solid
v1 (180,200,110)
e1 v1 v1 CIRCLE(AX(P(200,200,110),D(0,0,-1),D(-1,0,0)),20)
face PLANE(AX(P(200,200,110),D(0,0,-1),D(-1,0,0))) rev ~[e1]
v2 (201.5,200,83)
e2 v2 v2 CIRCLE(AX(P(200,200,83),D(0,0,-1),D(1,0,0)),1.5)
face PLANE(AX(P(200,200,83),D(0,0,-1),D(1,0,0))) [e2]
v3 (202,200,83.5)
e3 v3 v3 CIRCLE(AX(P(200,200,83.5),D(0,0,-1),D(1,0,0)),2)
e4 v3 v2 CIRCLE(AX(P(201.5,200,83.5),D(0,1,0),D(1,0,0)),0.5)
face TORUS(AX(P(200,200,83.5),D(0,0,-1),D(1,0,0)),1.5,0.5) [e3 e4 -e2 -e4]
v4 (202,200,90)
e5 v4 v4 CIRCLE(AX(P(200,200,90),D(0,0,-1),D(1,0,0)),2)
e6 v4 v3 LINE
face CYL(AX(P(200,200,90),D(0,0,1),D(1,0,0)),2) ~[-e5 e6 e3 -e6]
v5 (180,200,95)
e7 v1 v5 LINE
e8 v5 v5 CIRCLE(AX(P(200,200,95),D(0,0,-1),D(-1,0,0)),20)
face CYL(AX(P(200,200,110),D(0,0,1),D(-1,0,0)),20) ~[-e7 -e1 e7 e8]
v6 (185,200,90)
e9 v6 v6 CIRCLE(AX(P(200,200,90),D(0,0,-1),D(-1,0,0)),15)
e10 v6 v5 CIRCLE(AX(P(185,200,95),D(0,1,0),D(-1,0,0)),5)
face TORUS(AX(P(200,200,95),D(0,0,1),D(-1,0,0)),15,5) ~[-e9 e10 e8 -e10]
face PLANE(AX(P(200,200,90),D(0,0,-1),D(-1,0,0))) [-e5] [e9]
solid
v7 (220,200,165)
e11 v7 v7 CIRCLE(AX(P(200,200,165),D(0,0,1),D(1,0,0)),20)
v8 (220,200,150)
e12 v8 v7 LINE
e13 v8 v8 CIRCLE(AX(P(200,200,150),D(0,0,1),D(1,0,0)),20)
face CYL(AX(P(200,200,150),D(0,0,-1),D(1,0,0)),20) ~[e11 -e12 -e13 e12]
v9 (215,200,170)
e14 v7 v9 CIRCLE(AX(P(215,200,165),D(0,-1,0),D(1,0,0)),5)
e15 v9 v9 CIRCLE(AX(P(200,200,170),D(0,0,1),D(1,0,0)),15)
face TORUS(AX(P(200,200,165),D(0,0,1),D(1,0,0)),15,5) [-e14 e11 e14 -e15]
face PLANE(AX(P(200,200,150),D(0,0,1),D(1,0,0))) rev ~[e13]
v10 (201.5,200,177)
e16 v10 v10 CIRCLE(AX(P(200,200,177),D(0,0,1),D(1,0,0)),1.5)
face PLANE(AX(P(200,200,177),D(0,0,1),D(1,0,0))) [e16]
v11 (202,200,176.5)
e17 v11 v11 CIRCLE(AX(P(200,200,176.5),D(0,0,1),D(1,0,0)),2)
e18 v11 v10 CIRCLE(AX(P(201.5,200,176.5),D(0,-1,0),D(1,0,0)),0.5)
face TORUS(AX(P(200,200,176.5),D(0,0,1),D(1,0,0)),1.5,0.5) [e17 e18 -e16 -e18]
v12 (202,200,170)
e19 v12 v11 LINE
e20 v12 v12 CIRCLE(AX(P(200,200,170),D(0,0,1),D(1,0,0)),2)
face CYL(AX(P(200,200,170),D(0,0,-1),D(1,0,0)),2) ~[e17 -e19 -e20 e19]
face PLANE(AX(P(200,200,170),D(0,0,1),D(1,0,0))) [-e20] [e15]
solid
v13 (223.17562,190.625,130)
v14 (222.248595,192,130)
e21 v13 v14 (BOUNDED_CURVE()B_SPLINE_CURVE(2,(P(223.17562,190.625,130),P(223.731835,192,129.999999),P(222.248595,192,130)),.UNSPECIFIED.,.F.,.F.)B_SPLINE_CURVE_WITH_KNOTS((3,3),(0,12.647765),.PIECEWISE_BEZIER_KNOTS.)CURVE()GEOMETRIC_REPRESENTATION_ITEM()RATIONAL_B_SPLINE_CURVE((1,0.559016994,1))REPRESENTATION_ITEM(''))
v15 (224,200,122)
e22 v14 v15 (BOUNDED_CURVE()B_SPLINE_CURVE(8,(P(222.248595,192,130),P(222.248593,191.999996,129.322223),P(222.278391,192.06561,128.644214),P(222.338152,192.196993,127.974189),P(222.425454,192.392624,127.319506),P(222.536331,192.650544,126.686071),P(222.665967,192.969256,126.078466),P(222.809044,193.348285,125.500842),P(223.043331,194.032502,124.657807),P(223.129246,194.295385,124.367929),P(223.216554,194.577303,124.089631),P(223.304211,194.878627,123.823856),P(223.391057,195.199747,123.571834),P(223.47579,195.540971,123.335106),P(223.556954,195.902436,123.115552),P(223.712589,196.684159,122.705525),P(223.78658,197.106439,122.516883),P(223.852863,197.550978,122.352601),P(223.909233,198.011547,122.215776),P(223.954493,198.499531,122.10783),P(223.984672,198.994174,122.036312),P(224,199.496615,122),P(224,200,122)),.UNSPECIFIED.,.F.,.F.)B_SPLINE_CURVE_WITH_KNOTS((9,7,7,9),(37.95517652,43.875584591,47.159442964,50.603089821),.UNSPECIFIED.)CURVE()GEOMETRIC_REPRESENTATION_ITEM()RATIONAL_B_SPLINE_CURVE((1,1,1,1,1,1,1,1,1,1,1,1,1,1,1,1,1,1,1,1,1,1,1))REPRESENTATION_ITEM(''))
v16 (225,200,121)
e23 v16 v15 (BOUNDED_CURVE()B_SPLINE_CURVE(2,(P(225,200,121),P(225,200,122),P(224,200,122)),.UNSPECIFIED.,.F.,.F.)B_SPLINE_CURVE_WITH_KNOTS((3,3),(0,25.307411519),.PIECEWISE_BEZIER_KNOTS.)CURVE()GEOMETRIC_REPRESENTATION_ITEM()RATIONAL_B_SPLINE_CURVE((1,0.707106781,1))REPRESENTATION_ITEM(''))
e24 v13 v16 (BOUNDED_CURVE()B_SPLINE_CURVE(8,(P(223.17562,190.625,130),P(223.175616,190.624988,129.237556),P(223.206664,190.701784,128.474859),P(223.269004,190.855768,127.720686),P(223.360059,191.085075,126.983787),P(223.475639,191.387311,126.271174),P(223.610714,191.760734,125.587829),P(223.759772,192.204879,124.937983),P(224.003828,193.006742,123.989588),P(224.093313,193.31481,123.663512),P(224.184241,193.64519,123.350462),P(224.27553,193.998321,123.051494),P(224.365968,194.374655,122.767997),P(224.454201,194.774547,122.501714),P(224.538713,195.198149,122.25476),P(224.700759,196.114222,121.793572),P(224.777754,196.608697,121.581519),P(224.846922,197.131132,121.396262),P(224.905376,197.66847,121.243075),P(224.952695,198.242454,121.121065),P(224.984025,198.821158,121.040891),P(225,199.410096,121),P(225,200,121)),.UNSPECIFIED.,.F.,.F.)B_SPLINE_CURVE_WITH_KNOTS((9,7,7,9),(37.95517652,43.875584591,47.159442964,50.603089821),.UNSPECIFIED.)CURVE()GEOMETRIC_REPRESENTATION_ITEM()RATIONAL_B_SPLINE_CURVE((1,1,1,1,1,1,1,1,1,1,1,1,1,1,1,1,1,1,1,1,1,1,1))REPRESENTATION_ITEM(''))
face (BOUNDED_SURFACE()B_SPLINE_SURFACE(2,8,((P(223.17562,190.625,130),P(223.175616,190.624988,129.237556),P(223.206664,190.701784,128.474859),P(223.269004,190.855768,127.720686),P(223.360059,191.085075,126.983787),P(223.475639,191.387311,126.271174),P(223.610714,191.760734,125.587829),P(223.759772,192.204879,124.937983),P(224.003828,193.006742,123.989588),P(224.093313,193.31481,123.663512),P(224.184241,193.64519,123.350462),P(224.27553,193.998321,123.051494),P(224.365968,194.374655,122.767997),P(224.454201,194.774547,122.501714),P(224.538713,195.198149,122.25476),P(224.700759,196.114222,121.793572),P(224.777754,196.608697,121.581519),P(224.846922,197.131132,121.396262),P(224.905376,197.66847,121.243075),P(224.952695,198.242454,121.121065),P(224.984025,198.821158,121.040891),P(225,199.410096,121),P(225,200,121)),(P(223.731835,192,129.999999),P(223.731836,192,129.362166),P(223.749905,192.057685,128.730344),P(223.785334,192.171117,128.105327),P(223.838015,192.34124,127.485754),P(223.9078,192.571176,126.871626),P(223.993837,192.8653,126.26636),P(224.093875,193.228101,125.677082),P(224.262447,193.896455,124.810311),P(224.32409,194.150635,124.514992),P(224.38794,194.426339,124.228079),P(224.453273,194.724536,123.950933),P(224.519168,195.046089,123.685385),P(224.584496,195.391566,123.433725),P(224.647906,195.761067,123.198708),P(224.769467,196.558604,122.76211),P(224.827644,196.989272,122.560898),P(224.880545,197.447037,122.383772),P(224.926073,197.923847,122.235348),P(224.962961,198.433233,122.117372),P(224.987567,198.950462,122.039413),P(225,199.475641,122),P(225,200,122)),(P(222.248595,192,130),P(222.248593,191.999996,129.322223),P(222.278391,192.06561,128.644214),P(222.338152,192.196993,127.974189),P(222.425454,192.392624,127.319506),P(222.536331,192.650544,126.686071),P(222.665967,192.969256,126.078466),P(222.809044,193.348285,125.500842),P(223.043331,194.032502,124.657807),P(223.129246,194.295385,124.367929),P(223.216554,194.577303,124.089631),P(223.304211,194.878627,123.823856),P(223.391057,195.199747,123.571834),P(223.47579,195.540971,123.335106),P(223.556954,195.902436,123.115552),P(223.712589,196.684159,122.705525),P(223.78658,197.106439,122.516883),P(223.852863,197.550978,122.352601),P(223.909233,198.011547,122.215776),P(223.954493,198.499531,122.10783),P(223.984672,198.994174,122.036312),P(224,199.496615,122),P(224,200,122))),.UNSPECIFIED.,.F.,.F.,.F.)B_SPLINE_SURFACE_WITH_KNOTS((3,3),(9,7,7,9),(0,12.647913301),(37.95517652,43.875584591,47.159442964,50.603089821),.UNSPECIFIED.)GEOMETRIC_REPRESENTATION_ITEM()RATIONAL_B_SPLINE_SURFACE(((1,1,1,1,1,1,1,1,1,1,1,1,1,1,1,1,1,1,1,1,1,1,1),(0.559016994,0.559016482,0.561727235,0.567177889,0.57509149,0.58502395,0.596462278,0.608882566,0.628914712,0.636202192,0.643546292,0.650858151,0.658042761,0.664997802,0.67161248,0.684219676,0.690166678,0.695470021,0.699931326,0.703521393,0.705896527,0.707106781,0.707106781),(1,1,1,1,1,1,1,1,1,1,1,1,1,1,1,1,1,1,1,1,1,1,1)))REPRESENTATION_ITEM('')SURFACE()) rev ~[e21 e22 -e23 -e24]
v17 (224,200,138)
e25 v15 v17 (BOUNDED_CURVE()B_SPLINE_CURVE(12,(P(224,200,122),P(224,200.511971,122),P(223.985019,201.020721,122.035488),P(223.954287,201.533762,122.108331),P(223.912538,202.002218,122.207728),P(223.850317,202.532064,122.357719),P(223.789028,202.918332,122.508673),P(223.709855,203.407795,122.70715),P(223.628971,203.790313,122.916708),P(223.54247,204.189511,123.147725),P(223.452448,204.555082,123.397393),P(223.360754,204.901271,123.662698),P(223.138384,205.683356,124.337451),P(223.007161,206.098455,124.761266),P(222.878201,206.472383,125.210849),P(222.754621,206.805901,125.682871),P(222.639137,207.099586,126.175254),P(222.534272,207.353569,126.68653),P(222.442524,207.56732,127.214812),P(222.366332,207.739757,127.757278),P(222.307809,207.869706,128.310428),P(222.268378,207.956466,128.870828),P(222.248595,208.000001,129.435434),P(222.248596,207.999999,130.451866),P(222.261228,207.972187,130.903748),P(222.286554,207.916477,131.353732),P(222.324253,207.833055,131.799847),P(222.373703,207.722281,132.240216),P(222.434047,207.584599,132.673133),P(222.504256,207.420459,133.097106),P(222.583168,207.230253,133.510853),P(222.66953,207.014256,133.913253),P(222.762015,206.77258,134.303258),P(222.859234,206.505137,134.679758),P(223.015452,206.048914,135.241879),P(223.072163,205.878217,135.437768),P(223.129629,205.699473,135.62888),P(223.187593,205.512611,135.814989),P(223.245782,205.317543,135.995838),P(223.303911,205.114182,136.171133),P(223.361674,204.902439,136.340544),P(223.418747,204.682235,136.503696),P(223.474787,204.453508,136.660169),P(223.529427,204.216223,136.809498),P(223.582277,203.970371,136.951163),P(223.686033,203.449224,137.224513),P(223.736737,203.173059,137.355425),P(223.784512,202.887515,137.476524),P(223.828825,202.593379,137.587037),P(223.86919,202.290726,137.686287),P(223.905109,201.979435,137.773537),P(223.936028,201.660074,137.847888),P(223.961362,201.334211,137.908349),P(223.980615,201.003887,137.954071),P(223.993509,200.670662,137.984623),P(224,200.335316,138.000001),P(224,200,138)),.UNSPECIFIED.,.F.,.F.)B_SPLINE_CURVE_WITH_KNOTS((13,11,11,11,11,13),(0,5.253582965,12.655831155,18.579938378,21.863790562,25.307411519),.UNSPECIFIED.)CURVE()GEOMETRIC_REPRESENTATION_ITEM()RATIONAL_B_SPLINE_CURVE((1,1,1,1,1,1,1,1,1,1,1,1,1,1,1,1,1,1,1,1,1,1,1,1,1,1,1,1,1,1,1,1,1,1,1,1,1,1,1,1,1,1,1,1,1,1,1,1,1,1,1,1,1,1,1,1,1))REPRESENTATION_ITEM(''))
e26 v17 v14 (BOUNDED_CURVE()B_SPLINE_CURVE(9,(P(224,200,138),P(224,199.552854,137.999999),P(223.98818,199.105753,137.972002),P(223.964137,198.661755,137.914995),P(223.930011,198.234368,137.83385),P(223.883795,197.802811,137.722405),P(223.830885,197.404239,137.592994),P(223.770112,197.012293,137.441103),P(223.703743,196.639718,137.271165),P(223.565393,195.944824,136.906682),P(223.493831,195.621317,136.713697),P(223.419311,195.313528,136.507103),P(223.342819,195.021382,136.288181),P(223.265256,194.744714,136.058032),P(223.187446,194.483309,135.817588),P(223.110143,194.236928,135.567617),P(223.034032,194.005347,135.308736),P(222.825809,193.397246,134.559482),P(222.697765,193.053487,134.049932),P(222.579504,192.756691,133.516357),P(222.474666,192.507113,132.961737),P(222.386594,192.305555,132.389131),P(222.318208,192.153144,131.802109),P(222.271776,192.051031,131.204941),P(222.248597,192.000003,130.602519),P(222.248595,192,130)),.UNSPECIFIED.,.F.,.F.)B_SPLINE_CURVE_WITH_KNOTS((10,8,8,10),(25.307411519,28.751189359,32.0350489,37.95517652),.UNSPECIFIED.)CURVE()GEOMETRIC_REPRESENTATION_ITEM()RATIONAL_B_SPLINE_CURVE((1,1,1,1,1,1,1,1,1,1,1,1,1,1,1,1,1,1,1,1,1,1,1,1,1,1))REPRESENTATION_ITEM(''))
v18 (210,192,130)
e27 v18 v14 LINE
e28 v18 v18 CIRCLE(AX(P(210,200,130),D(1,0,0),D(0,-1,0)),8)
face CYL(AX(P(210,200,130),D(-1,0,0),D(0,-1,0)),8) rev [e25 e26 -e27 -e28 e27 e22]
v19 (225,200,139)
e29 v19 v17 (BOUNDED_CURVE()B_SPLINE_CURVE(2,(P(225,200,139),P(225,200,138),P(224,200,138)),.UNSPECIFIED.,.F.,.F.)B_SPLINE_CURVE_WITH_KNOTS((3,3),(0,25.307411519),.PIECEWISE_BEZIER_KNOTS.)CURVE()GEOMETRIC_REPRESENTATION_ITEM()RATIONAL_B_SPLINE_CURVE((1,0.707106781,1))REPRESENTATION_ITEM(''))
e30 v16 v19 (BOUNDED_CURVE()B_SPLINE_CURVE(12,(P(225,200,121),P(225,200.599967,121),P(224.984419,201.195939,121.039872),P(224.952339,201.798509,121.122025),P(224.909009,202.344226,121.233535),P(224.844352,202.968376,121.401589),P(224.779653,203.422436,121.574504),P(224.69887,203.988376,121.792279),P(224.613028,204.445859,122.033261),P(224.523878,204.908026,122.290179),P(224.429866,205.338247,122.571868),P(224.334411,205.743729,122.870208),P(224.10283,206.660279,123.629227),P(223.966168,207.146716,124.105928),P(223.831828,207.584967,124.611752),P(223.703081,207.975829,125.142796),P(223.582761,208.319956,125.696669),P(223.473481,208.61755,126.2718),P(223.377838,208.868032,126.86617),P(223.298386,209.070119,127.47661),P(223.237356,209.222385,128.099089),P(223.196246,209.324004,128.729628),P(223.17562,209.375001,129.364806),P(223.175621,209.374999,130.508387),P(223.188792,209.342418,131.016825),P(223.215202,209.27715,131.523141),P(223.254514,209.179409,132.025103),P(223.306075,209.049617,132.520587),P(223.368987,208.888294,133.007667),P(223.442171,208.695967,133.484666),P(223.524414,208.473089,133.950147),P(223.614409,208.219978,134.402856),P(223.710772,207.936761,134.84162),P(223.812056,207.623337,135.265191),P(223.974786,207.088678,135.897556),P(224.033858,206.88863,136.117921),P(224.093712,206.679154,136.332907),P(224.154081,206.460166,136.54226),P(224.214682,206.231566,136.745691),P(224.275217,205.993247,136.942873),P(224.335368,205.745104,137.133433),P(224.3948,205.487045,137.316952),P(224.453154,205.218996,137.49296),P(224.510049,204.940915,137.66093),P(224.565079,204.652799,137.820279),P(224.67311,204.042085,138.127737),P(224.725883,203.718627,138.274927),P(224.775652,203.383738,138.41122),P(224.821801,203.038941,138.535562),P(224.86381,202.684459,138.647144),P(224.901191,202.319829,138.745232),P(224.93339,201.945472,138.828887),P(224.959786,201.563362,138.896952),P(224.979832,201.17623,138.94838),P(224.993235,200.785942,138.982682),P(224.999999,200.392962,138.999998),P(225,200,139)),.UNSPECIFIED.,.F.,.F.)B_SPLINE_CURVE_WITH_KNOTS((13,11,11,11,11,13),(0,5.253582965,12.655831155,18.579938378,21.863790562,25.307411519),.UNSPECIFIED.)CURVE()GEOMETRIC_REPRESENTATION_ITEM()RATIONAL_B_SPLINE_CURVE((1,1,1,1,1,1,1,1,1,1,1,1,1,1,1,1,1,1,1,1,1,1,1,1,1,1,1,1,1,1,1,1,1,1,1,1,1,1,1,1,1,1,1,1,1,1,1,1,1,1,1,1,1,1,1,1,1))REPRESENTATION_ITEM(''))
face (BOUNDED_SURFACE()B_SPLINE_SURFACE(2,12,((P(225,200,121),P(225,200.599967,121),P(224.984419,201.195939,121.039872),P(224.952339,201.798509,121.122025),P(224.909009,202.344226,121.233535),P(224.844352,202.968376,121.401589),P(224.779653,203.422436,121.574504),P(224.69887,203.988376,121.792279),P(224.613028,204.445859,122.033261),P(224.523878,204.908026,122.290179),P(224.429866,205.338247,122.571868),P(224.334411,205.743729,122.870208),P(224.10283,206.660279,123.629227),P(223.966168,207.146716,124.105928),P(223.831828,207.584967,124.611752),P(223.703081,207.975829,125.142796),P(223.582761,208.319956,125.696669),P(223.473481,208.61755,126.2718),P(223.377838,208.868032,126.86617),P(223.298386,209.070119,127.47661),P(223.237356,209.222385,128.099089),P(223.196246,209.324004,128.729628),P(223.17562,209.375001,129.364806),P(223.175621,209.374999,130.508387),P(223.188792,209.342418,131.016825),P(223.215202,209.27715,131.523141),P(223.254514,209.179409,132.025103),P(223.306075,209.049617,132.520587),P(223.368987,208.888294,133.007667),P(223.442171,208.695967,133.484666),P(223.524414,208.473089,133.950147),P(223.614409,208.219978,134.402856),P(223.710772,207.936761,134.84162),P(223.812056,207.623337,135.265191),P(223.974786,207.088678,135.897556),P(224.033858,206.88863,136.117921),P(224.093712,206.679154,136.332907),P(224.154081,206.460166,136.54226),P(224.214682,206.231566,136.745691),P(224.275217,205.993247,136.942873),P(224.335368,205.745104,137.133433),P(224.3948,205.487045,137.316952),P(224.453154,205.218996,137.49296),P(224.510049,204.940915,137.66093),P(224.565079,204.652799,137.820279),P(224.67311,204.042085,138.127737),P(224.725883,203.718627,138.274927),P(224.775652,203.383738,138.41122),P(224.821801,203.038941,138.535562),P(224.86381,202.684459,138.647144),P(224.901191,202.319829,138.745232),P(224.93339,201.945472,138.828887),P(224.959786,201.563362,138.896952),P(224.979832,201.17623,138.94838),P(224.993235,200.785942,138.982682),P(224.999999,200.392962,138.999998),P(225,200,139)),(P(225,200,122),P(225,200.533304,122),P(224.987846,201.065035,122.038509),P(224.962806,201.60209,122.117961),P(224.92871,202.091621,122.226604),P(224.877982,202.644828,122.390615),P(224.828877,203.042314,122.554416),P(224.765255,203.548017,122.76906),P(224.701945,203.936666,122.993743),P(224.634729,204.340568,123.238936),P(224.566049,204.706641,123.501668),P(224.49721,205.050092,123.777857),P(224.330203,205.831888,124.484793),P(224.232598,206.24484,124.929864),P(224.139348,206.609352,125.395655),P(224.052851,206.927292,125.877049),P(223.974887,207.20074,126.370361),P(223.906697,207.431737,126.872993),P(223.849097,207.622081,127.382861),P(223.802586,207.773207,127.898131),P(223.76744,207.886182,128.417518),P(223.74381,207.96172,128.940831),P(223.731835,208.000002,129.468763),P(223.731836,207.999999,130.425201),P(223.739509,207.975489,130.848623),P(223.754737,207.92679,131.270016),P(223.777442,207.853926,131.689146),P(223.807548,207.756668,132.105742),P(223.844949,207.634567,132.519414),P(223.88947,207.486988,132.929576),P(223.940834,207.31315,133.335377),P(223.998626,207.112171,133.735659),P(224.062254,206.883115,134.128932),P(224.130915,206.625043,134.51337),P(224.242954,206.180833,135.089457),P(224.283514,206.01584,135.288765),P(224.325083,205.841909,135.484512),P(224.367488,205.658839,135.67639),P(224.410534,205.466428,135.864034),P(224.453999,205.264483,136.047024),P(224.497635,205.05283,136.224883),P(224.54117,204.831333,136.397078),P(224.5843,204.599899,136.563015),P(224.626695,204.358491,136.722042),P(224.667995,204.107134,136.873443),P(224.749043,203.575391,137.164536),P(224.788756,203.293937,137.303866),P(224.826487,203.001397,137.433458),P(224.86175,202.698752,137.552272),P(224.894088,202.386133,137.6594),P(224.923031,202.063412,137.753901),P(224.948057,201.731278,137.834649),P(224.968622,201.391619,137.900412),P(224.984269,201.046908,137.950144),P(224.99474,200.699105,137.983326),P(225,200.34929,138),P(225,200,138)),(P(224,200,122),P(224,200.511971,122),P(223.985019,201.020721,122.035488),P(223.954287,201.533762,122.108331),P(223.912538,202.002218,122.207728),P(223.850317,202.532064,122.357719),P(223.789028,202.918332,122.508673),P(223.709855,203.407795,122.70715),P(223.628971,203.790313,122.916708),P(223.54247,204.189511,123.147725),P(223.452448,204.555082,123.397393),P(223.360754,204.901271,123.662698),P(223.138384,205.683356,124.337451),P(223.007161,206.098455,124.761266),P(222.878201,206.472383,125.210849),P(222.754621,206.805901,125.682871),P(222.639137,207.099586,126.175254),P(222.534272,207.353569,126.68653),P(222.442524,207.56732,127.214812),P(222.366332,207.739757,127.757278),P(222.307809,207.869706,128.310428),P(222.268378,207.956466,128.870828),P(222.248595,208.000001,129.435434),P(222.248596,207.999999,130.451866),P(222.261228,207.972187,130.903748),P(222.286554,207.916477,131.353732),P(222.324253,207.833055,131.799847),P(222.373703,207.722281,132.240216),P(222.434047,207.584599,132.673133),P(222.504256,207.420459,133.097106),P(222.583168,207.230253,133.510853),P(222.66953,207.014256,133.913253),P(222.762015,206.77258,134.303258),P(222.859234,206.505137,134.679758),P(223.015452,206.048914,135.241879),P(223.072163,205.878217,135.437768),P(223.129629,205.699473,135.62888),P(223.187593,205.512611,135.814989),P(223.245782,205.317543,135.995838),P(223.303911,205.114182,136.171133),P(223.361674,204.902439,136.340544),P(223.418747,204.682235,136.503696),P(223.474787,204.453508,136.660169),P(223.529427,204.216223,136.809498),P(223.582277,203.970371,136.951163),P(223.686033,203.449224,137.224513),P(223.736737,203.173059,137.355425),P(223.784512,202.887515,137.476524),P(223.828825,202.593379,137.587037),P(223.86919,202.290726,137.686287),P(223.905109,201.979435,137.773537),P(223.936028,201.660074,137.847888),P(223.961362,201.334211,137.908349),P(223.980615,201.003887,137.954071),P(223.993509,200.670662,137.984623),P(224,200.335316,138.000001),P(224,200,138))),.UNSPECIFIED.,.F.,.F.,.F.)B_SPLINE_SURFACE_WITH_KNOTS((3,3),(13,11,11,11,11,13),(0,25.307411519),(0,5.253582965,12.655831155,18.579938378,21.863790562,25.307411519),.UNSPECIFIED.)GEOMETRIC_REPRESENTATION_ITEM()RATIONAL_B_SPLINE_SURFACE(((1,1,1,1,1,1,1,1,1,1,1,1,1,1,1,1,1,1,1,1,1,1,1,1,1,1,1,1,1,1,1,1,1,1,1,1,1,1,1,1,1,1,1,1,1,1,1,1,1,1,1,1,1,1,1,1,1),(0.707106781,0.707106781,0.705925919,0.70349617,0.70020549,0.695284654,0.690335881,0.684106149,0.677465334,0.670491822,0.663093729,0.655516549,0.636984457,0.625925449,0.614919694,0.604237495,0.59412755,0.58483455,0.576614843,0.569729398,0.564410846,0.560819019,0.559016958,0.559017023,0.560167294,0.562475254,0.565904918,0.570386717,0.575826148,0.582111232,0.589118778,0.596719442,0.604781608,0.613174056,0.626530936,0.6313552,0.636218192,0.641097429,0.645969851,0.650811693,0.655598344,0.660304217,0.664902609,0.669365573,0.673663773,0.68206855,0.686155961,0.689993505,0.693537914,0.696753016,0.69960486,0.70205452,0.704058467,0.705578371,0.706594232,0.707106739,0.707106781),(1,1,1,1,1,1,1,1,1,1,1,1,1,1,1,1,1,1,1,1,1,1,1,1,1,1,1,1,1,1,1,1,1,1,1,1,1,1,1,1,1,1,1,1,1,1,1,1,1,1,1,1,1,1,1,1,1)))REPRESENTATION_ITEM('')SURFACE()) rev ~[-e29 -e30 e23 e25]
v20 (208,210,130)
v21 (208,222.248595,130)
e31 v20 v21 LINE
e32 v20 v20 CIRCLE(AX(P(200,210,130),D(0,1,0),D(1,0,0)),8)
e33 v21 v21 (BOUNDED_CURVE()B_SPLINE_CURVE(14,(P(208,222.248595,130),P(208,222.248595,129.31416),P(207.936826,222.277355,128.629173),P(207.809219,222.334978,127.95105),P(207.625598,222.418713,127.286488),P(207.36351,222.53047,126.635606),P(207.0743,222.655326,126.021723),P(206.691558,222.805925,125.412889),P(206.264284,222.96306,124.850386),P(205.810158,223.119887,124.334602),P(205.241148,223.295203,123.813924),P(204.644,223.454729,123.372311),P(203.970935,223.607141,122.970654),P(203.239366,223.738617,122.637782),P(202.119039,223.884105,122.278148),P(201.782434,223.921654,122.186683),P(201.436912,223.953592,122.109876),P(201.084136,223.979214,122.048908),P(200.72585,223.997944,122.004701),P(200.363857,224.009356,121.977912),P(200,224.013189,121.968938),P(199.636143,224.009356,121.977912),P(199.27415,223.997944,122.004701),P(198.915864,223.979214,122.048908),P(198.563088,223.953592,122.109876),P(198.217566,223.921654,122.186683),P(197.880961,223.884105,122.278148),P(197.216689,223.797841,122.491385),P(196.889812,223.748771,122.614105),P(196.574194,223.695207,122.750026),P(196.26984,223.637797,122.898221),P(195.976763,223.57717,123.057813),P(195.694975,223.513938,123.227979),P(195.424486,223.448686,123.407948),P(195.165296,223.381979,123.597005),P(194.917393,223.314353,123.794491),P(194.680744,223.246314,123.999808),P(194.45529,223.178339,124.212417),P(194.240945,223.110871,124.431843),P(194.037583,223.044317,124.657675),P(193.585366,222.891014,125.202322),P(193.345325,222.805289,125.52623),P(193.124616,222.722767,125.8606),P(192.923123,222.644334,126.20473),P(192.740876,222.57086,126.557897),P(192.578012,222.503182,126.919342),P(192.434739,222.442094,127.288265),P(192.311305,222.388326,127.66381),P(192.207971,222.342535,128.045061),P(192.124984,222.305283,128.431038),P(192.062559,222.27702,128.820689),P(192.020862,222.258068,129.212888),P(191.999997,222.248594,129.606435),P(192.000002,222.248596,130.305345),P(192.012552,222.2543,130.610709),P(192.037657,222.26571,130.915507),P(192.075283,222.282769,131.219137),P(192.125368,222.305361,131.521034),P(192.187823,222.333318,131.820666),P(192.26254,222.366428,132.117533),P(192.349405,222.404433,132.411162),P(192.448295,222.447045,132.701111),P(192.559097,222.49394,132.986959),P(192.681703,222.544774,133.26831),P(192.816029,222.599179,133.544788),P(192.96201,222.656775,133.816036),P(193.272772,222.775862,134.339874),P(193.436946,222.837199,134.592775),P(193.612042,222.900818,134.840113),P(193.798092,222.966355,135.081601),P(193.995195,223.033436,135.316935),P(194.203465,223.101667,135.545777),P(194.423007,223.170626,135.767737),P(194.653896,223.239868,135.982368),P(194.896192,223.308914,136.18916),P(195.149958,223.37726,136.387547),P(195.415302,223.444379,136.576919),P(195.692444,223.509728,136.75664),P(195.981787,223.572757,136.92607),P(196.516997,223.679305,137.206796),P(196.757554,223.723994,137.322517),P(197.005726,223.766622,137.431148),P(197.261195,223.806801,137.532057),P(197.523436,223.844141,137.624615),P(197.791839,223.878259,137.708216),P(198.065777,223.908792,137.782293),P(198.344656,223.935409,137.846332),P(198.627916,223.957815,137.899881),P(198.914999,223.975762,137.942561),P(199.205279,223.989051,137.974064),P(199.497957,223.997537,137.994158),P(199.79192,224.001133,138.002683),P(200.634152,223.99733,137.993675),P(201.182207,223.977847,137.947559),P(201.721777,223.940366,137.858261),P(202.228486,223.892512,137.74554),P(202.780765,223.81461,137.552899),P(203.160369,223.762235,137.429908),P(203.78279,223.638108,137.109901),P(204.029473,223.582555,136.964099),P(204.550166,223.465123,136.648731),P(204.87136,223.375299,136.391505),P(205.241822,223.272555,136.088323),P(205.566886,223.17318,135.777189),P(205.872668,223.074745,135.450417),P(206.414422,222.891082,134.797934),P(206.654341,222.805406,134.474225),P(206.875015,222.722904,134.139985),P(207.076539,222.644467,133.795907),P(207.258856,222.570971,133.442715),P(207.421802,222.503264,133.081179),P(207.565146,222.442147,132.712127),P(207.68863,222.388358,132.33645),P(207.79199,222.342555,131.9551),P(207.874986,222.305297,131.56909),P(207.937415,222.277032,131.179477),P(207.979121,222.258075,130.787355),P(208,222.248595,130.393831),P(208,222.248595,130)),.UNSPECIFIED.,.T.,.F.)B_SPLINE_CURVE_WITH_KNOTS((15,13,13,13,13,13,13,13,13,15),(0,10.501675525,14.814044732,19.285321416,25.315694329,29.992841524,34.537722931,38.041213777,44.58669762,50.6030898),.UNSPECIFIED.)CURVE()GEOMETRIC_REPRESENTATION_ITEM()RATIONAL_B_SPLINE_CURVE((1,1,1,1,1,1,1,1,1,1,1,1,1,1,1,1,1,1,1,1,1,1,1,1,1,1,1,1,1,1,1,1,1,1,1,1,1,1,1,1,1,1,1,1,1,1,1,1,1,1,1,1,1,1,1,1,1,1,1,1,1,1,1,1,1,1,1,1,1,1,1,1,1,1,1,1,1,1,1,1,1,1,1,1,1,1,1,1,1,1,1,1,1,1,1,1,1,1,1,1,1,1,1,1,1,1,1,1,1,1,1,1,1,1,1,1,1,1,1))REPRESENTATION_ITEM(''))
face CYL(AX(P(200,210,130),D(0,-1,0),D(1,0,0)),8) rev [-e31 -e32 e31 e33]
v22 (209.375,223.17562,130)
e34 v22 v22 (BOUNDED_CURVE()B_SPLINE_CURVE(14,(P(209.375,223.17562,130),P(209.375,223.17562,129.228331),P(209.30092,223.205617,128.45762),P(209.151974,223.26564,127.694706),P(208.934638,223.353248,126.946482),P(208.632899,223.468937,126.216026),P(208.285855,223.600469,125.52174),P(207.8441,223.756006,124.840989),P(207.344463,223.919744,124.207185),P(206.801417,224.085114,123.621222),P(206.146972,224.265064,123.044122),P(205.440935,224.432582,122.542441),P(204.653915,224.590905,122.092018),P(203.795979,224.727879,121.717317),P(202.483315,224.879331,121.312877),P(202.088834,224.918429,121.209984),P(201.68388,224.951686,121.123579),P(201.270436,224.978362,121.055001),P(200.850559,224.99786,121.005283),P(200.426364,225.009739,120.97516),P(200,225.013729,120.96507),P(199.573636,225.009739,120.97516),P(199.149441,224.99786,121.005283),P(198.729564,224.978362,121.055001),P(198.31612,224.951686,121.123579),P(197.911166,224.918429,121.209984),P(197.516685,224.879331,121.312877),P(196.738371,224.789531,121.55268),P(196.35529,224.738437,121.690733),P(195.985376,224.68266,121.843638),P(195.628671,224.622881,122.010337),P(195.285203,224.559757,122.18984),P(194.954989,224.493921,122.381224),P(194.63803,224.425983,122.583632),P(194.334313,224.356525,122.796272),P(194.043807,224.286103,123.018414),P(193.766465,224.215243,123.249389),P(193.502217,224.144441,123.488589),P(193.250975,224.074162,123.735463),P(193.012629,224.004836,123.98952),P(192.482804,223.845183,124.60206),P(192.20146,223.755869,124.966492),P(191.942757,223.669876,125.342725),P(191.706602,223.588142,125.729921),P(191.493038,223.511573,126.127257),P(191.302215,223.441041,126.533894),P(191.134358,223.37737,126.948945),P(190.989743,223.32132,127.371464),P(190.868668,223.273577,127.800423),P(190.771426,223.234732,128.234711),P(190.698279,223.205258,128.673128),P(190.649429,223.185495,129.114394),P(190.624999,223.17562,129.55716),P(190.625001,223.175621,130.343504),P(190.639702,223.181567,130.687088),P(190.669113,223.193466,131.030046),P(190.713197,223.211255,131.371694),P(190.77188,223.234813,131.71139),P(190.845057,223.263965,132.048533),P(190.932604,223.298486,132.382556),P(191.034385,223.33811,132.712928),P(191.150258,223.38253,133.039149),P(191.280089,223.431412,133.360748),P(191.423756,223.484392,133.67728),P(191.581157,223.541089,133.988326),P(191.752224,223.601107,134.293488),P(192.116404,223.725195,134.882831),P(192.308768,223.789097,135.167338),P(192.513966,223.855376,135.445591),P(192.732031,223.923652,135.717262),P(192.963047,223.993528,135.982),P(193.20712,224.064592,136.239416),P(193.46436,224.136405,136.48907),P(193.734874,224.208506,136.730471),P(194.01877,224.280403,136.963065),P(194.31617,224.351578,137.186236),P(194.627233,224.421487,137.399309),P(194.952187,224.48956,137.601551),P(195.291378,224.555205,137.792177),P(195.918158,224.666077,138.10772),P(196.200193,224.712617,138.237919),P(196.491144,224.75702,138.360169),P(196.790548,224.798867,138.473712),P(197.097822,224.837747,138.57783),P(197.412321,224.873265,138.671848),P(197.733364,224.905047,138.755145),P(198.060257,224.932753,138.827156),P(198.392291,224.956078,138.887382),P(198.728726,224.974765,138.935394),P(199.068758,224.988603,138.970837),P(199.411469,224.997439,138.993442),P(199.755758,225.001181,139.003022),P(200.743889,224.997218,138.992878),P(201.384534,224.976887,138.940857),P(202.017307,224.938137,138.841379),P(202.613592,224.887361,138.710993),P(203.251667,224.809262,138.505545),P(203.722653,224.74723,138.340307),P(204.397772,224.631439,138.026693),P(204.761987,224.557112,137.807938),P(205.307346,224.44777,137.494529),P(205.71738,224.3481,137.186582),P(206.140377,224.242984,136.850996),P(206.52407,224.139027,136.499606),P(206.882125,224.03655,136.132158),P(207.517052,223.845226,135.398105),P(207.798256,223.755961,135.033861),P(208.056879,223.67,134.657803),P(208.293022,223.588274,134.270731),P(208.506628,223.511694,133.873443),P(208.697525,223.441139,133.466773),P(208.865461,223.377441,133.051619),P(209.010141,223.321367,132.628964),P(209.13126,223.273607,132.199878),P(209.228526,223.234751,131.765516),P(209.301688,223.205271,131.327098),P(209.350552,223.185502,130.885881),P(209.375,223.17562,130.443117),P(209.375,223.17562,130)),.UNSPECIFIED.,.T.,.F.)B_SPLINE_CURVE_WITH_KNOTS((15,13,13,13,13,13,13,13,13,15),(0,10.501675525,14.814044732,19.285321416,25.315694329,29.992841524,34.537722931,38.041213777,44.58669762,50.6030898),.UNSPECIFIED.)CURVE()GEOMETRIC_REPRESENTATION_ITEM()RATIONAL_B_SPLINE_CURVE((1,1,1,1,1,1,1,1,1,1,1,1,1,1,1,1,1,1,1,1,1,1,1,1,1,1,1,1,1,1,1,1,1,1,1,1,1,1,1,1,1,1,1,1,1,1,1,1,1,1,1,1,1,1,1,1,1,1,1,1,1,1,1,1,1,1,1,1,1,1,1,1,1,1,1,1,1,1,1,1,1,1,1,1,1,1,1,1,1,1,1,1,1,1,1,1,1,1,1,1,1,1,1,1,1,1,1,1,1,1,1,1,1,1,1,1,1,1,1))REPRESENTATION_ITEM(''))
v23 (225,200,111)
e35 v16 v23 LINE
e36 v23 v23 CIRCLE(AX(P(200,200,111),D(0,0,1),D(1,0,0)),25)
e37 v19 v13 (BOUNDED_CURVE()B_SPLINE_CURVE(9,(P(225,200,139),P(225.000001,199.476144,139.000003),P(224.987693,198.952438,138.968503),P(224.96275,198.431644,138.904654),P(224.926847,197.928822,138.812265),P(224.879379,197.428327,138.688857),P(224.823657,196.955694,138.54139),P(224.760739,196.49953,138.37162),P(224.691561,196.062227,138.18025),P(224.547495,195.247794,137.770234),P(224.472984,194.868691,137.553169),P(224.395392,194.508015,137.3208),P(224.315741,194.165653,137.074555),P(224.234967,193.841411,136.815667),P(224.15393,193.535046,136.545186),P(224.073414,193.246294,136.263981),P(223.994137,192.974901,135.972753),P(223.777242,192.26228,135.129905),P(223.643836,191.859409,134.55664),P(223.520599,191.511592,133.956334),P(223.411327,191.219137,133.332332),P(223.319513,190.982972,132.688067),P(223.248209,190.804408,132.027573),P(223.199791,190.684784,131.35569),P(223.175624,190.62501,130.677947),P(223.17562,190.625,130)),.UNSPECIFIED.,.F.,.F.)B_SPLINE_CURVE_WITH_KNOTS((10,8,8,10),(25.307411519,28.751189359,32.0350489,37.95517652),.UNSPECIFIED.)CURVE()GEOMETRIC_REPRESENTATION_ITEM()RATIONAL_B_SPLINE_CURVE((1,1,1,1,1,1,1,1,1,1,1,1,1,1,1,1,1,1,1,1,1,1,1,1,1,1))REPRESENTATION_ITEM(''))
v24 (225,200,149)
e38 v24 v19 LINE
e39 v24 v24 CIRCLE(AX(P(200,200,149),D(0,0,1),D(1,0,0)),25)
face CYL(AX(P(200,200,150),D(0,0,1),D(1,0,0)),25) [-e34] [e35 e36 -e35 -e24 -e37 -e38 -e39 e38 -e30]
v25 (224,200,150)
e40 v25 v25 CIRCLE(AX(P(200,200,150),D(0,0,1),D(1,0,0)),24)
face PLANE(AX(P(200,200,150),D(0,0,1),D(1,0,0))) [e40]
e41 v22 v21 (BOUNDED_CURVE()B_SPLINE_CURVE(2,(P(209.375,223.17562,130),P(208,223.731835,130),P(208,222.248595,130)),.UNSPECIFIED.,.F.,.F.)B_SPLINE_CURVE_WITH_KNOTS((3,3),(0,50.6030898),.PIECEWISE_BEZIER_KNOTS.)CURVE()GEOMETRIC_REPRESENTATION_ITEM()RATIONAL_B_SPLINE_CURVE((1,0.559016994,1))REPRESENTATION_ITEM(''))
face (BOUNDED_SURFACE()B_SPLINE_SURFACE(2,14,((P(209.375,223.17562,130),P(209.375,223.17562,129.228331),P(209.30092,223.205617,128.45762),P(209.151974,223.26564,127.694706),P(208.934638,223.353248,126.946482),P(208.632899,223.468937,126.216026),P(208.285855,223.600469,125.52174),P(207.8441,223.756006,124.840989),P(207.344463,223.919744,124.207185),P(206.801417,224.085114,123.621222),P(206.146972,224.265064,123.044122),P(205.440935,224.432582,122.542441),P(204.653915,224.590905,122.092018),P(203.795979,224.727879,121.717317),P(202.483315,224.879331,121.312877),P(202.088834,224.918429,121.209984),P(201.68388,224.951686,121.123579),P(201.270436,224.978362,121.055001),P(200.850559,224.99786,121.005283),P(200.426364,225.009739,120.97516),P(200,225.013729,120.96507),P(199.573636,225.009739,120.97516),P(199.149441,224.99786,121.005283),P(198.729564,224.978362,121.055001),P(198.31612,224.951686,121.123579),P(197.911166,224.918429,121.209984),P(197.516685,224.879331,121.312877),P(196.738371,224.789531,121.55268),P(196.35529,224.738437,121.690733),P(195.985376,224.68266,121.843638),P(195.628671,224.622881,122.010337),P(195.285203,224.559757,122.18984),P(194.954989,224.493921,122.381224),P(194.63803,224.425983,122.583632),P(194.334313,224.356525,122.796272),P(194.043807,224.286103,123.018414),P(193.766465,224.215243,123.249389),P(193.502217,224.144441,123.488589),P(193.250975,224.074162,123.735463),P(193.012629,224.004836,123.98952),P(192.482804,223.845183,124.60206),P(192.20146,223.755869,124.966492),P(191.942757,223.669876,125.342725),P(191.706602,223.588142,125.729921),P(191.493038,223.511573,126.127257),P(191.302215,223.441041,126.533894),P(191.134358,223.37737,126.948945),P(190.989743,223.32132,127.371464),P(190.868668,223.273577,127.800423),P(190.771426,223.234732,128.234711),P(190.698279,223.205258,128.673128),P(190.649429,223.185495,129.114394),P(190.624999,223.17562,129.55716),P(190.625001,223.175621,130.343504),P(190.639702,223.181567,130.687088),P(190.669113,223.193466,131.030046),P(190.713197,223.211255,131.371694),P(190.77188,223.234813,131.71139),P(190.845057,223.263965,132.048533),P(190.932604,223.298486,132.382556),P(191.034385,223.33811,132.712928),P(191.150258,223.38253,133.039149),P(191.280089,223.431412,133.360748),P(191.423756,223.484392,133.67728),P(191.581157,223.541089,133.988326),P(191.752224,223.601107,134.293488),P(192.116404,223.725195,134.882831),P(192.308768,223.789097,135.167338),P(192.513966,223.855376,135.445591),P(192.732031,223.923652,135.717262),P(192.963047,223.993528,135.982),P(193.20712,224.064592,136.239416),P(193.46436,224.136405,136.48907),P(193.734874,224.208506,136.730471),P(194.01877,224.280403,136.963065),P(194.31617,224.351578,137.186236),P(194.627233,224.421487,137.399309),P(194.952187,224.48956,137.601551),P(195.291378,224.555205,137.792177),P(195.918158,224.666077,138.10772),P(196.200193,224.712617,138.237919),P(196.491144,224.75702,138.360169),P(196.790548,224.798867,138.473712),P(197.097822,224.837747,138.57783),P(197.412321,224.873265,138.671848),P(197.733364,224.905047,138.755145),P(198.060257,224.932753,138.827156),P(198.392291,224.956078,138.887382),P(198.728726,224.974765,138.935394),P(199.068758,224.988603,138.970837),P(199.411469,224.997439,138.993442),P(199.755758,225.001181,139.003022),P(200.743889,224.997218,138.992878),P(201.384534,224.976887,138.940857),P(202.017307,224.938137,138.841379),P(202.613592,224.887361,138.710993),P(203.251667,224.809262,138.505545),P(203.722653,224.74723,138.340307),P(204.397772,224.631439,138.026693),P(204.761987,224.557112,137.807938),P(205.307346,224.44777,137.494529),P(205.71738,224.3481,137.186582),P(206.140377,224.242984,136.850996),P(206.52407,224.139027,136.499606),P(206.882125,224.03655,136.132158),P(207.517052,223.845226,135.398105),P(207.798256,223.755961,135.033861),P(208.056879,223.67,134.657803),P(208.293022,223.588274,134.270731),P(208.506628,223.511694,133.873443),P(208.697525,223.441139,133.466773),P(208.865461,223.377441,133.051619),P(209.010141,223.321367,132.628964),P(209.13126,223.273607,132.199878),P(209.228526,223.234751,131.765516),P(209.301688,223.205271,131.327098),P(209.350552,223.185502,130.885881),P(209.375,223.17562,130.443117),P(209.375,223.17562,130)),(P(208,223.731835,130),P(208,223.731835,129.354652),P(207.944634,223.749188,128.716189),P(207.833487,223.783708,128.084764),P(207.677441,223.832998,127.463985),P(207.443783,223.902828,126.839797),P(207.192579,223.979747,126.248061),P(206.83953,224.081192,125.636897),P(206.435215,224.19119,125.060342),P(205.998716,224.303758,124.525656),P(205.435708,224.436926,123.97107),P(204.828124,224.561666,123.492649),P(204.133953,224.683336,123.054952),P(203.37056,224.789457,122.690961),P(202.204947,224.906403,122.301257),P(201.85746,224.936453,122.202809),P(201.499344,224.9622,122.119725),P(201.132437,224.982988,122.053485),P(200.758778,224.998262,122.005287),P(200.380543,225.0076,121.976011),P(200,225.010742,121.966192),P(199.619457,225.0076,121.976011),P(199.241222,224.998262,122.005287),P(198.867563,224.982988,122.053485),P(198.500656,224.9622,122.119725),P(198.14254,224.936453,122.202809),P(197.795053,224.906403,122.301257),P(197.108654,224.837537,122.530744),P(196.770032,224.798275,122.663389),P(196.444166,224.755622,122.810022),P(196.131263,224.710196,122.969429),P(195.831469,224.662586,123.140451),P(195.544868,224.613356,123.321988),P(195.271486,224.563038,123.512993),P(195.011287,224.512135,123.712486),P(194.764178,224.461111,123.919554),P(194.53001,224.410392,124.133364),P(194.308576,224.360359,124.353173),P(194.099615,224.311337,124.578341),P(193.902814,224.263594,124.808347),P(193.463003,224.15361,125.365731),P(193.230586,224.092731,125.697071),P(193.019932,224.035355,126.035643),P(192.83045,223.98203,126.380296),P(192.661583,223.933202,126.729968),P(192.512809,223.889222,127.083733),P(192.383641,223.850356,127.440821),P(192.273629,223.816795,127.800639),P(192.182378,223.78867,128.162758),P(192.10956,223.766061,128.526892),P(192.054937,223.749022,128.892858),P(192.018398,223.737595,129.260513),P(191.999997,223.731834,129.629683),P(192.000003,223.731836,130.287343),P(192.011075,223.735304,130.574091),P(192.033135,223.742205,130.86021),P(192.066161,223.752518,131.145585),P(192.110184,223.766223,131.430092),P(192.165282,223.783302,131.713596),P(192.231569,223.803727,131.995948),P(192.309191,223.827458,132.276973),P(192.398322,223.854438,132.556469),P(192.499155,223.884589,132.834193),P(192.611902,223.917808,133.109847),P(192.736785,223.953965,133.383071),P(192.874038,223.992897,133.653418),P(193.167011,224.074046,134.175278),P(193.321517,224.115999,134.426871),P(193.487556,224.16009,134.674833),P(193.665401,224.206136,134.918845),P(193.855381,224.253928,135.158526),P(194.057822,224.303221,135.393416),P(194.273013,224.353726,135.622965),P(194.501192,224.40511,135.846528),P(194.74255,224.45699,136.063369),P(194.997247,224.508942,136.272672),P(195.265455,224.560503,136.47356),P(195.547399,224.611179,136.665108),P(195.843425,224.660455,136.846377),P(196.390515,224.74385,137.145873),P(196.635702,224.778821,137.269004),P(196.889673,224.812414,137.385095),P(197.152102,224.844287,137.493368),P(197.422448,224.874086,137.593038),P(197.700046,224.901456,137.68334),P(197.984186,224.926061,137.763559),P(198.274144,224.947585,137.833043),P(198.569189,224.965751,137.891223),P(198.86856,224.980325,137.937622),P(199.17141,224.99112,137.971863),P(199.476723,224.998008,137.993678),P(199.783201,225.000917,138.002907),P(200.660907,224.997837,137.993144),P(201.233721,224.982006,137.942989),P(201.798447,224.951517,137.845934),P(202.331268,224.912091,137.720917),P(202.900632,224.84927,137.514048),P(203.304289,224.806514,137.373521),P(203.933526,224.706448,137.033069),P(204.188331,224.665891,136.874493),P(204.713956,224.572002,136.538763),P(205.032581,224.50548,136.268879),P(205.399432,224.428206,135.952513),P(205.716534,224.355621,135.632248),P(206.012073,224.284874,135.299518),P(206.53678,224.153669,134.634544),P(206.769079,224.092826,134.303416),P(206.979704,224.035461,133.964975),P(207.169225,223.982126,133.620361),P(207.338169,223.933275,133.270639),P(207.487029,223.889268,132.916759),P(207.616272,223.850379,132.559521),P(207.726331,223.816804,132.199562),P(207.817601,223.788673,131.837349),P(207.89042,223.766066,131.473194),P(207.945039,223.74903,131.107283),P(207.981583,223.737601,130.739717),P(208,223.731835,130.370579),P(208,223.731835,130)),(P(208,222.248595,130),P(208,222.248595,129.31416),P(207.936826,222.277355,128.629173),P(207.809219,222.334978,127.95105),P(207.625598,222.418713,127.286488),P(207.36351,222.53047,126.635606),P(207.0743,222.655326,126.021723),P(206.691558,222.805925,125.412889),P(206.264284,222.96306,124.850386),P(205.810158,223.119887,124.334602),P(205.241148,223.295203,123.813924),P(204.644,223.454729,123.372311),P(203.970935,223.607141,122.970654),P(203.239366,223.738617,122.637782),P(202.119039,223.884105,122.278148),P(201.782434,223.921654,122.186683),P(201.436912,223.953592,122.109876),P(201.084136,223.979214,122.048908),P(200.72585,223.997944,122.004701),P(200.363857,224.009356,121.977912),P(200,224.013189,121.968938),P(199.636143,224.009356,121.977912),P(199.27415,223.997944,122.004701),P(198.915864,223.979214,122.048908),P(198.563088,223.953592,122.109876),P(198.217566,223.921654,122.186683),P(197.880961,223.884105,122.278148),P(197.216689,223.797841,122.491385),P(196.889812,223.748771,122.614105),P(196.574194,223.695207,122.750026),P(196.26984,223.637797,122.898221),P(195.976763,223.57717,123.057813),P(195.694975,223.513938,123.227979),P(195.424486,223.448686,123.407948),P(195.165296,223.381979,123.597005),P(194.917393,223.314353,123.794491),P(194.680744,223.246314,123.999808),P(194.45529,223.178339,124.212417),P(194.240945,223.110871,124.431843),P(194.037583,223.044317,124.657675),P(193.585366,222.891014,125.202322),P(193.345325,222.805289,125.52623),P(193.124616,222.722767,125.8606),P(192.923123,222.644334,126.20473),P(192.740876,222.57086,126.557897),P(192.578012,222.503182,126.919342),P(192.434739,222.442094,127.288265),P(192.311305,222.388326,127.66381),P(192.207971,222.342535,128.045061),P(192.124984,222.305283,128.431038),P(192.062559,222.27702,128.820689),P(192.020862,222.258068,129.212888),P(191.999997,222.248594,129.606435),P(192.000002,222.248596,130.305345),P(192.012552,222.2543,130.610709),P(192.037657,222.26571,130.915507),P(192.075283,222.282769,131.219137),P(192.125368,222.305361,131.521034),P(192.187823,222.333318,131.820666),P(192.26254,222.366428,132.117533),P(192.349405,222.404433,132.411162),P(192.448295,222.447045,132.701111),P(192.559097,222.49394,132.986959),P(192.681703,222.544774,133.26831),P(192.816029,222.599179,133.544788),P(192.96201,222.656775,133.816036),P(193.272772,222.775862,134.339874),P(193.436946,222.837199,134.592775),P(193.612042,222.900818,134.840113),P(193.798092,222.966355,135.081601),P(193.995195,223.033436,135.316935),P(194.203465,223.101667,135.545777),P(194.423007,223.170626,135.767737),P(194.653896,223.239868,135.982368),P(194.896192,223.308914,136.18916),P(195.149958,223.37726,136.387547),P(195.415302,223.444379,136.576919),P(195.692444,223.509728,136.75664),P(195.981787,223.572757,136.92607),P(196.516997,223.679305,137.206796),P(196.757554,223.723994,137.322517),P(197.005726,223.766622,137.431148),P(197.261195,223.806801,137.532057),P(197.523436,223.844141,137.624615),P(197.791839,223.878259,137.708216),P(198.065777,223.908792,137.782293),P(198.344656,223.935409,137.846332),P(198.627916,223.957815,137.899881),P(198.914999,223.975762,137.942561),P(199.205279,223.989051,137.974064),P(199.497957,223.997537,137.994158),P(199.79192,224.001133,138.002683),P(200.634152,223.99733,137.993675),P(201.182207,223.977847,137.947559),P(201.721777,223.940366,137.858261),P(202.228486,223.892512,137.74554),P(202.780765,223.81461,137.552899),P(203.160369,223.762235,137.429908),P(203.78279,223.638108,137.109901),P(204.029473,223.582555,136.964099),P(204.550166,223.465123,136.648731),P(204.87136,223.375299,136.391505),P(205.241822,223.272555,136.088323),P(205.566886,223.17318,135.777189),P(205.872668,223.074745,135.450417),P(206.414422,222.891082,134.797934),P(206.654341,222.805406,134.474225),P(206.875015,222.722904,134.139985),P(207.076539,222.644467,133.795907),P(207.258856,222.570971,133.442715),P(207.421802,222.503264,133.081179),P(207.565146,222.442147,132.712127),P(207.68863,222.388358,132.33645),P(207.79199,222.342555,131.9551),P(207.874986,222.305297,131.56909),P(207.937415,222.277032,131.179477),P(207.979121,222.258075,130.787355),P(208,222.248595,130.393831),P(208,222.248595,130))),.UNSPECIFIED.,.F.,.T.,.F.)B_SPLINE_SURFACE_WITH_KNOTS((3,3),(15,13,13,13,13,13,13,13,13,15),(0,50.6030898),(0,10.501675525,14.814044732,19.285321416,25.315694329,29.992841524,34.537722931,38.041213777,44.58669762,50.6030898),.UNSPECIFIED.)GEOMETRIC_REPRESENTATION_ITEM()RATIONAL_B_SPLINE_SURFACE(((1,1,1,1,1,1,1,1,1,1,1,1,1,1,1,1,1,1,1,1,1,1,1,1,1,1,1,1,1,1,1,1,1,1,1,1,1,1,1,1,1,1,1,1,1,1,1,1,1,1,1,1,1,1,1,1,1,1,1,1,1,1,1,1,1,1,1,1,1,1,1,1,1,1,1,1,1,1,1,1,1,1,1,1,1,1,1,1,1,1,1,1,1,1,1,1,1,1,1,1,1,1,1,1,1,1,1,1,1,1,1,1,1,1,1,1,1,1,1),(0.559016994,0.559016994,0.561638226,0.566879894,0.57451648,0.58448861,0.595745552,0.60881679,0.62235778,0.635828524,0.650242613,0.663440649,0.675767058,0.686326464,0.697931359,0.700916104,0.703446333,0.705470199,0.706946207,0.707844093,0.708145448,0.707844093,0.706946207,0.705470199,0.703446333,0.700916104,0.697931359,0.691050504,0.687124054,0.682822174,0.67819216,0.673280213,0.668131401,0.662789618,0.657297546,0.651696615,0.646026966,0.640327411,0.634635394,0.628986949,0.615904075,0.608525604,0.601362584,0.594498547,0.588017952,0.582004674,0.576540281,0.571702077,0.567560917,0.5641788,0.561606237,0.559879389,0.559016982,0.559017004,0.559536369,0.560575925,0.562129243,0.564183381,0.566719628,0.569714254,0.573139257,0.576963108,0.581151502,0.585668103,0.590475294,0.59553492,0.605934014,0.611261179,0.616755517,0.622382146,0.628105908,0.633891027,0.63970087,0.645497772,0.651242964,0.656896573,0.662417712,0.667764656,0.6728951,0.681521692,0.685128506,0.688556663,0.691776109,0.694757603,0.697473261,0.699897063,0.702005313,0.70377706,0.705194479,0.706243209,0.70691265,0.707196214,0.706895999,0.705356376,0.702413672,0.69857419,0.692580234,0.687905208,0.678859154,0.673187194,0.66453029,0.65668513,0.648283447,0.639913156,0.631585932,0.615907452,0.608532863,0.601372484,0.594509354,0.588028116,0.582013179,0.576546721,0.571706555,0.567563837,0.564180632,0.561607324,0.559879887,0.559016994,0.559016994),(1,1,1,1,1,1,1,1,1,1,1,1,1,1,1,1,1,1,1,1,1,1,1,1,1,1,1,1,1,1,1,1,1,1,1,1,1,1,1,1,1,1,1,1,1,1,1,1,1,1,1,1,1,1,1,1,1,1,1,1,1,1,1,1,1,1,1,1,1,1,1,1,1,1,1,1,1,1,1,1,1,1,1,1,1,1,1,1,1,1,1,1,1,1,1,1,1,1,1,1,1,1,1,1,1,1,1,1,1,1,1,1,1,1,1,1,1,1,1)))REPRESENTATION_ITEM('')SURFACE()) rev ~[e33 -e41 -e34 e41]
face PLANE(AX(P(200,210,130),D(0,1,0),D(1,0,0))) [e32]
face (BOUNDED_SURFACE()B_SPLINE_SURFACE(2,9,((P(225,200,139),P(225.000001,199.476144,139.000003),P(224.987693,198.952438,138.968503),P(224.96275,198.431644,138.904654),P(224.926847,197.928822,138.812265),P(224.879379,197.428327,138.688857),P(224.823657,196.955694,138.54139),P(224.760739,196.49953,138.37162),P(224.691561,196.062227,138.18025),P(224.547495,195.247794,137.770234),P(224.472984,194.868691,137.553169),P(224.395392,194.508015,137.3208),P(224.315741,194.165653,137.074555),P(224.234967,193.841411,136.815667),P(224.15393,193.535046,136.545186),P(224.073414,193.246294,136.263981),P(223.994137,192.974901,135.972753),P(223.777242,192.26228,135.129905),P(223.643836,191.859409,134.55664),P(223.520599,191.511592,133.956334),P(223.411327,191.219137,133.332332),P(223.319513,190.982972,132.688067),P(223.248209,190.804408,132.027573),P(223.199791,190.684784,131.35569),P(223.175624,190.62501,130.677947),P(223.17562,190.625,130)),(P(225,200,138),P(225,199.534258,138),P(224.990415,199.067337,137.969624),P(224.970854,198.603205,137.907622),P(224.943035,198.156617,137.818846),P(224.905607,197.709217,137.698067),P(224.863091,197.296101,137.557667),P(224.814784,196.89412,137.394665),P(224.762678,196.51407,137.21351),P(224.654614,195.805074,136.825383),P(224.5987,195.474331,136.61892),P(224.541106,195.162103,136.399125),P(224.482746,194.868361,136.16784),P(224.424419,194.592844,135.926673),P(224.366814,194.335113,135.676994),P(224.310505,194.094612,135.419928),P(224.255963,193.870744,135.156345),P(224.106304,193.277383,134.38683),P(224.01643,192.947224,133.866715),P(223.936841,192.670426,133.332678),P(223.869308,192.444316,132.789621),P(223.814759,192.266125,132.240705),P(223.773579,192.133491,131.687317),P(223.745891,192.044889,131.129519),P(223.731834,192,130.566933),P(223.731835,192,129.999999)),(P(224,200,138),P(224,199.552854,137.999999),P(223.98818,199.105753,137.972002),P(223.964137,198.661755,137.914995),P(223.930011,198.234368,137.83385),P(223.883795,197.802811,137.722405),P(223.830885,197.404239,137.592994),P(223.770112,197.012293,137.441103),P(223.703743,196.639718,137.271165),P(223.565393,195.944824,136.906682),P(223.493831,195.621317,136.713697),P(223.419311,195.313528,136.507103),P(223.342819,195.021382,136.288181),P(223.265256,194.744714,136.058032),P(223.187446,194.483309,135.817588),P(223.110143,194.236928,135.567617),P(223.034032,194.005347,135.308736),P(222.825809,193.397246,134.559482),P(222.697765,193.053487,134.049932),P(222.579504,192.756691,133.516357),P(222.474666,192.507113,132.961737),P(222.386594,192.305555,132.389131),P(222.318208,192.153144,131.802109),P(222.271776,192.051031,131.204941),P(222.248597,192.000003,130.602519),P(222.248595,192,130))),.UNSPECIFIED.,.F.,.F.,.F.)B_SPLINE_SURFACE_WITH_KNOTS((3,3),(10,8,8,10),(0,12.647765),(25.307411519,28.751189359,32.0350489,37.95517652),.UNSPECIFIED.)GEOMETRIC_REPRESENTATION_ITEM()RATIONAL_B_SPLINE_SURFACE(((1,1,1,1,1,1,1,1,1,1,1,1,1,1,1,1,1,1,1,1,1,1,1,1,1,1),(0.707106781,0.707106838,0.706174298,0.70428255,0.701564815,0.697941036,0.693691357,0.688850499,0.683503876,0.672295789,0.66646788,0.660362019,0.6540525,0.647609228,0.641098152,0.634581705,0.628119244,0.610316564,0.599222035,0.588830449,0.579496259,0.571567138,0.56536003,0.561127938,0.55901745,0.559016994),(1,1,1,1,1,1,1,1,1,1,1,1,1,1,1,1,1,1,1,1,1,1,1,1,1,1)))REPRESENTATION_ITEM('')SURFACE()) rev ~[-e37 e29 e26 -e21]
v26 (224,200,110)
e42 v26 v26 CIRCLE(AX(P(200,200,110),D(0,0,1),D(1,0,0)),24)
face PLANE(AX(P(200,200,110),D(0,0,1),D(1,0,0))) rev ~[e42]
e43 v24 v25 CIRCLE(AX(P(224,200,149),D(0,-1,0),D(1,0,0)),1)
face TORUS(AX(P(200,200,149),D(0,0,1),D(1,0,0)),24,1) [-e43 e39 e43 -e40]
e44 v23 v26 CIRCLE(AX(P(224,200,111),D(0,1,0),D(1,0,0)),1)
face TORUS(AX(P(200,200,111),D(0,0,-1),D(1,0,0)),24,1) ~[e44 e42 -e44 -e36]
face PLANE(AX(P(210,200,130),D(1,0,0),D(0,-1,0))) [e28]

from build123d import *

# Parameters (mm, degrees)
SKETCH20_R           = 25
BOSS_EXTRUDE6_DEPTH  = 40
SKETCH21_R           = 8
CUT_EXTRUDE2_DEPTH   = 26
CIRPATTERN1_COUNT    = 2
CIRPATTERN1_ANGLE    = 90
SKETCH24_R           = 20
BOSS_EXTRUDE7_DEPTH  = 20
FILLET3_R            = 5
SKETCH25_R           = 2
BOSS_EXTRUDE8_DEPTH  = 7
FILLET4_R            = 0.5
FILLET5_R            = 1
SKETCH26_R           = 20
BOSS_EXTRUDE9_DEPTH  = 20
SKETCH27_R           = 2
BOSS_EXTRUDE10_DEPTH = 7
FILLET6_R            = 0.5
FILLET7_R            = 5


with BuildPart() as part:
    # Sketch20 → Boss-Extrude6 (new body)
    with BuildSketch(Plane.XY.offset(150)):
        with Locations((200, 200)):
            Circle(SKETCH20_R)
    extrude(amount=-BOSS_EXTRUDE6_DEPTH)

    # Sketch21 → Cut-Extrude2 (cut)
    with BuildSketch(Plane(origin=(0, 210, 0), x_dir=(1, 0, 0), z_dir=(0, 1, 0))):
        with Locations((200, -130)):
            Circle(SKETCH21_R)
    cut_extrude2 = extrude(amount=CUT_EXTRUDE2_DEPTH, mode=Mode.SUBTRACT)

    # CirPattern1: Cut-Extrude2 ×2 about axis
    cirpattern1_axis = Axis((200, 200, 110), (0, 0, -1))
    for i in range(1, CIRPATTERN1_COUNT):
        add(cut_extrude2.rotate(cirpattern1_axis, i * CIRPATTERN1_ANGLE / (CIRPATTERN1_COUNT - 1)), mode=Mode.SUBTRACT)

    # Fillet5
    fillet5_edges = [part.edges().sort_by_distance(p)[0] for p in [
        (223.685438565, 208, 130),
        (192, 223.685438565, 130),
        (175, 200, 110),
        (175, 200, 150),
    ]]
    fillet(fillet5_edges, radius=FILLET5_R)


with BuildPart() as body_2:
    # Sketch24 → Boss-Extrude7 (new body)
    with BuildSketch(Plane.XY.offset(150)):
        with Locations((200, 200)):
            Circle(SKETCH24_R)
    extrude(amount=BOSS_EXTRUDE7_DEPTH)

    # Fillet3
    fillet3_edges = [body_2.edges().sort_by_distance(p)[0] for p in [
        (180, 200, 170),
    ]]
    fillet(fillet3_edges, radius=FILLET3_R)

    # Sketch25 → Boss-Extrude8 (add)
    with BuildSketch(Plane.XY.offset(170)):
        with Locations((200, 200)):
            Circle(SKETCH25_R)
    extrude(amount=BOSS_EXTRUDE8_DEPTH)

    # Fillet4
    fillet4_edges = [body_2.edges().sort_by_distance(p)[0] for p in [
        (198, 200, 177),
    ]]
    fillet(fillet4_edges, radius=FILLET4_R)


with BuildPart() as body_3:
    # Sketch26 → Boss-Extrude9 (new body)
    with BuildSketch(Plane(origin=(0, 0, 110), x_dir=(-1, 0, 0), z_dir=(0, 0, -1))):
        with Locations((-200, 200)):
            Circle(SKETCH26_R)
    extrude(amount=BOSS_EXTRUDE9_DEPTH)

    # Sketch27 → Boss-Extrude10 (add)
    with BuildSketch(Plane(origin=(0, 0, 90), x_dir=(1, 0, 0), z_dir=(0, 0, -1))):
        with Locations((200, -200)):
            Circle(SKETCH27_R)
    extrude(amount=BOSS_EXTRUDE10_DEPTH)

    # Fillet6
    fillet6_edges = [body_3.edges().sort_by_distance(p)[0] for p in [
        (198, 200, 83),
    ]]
    fillet(fillet6_edges, radius=FILLET6_R)

    # Fillet7
    fillet7_edges = [body_3.edges().sort_by_distance(p)[0] for p in [
        (220, 200, 90),
    ]]
    fillet(fillet7_edges, radius=FILLET7_R)


solid = Compound([part.part, body_2.part, body_3.part])
